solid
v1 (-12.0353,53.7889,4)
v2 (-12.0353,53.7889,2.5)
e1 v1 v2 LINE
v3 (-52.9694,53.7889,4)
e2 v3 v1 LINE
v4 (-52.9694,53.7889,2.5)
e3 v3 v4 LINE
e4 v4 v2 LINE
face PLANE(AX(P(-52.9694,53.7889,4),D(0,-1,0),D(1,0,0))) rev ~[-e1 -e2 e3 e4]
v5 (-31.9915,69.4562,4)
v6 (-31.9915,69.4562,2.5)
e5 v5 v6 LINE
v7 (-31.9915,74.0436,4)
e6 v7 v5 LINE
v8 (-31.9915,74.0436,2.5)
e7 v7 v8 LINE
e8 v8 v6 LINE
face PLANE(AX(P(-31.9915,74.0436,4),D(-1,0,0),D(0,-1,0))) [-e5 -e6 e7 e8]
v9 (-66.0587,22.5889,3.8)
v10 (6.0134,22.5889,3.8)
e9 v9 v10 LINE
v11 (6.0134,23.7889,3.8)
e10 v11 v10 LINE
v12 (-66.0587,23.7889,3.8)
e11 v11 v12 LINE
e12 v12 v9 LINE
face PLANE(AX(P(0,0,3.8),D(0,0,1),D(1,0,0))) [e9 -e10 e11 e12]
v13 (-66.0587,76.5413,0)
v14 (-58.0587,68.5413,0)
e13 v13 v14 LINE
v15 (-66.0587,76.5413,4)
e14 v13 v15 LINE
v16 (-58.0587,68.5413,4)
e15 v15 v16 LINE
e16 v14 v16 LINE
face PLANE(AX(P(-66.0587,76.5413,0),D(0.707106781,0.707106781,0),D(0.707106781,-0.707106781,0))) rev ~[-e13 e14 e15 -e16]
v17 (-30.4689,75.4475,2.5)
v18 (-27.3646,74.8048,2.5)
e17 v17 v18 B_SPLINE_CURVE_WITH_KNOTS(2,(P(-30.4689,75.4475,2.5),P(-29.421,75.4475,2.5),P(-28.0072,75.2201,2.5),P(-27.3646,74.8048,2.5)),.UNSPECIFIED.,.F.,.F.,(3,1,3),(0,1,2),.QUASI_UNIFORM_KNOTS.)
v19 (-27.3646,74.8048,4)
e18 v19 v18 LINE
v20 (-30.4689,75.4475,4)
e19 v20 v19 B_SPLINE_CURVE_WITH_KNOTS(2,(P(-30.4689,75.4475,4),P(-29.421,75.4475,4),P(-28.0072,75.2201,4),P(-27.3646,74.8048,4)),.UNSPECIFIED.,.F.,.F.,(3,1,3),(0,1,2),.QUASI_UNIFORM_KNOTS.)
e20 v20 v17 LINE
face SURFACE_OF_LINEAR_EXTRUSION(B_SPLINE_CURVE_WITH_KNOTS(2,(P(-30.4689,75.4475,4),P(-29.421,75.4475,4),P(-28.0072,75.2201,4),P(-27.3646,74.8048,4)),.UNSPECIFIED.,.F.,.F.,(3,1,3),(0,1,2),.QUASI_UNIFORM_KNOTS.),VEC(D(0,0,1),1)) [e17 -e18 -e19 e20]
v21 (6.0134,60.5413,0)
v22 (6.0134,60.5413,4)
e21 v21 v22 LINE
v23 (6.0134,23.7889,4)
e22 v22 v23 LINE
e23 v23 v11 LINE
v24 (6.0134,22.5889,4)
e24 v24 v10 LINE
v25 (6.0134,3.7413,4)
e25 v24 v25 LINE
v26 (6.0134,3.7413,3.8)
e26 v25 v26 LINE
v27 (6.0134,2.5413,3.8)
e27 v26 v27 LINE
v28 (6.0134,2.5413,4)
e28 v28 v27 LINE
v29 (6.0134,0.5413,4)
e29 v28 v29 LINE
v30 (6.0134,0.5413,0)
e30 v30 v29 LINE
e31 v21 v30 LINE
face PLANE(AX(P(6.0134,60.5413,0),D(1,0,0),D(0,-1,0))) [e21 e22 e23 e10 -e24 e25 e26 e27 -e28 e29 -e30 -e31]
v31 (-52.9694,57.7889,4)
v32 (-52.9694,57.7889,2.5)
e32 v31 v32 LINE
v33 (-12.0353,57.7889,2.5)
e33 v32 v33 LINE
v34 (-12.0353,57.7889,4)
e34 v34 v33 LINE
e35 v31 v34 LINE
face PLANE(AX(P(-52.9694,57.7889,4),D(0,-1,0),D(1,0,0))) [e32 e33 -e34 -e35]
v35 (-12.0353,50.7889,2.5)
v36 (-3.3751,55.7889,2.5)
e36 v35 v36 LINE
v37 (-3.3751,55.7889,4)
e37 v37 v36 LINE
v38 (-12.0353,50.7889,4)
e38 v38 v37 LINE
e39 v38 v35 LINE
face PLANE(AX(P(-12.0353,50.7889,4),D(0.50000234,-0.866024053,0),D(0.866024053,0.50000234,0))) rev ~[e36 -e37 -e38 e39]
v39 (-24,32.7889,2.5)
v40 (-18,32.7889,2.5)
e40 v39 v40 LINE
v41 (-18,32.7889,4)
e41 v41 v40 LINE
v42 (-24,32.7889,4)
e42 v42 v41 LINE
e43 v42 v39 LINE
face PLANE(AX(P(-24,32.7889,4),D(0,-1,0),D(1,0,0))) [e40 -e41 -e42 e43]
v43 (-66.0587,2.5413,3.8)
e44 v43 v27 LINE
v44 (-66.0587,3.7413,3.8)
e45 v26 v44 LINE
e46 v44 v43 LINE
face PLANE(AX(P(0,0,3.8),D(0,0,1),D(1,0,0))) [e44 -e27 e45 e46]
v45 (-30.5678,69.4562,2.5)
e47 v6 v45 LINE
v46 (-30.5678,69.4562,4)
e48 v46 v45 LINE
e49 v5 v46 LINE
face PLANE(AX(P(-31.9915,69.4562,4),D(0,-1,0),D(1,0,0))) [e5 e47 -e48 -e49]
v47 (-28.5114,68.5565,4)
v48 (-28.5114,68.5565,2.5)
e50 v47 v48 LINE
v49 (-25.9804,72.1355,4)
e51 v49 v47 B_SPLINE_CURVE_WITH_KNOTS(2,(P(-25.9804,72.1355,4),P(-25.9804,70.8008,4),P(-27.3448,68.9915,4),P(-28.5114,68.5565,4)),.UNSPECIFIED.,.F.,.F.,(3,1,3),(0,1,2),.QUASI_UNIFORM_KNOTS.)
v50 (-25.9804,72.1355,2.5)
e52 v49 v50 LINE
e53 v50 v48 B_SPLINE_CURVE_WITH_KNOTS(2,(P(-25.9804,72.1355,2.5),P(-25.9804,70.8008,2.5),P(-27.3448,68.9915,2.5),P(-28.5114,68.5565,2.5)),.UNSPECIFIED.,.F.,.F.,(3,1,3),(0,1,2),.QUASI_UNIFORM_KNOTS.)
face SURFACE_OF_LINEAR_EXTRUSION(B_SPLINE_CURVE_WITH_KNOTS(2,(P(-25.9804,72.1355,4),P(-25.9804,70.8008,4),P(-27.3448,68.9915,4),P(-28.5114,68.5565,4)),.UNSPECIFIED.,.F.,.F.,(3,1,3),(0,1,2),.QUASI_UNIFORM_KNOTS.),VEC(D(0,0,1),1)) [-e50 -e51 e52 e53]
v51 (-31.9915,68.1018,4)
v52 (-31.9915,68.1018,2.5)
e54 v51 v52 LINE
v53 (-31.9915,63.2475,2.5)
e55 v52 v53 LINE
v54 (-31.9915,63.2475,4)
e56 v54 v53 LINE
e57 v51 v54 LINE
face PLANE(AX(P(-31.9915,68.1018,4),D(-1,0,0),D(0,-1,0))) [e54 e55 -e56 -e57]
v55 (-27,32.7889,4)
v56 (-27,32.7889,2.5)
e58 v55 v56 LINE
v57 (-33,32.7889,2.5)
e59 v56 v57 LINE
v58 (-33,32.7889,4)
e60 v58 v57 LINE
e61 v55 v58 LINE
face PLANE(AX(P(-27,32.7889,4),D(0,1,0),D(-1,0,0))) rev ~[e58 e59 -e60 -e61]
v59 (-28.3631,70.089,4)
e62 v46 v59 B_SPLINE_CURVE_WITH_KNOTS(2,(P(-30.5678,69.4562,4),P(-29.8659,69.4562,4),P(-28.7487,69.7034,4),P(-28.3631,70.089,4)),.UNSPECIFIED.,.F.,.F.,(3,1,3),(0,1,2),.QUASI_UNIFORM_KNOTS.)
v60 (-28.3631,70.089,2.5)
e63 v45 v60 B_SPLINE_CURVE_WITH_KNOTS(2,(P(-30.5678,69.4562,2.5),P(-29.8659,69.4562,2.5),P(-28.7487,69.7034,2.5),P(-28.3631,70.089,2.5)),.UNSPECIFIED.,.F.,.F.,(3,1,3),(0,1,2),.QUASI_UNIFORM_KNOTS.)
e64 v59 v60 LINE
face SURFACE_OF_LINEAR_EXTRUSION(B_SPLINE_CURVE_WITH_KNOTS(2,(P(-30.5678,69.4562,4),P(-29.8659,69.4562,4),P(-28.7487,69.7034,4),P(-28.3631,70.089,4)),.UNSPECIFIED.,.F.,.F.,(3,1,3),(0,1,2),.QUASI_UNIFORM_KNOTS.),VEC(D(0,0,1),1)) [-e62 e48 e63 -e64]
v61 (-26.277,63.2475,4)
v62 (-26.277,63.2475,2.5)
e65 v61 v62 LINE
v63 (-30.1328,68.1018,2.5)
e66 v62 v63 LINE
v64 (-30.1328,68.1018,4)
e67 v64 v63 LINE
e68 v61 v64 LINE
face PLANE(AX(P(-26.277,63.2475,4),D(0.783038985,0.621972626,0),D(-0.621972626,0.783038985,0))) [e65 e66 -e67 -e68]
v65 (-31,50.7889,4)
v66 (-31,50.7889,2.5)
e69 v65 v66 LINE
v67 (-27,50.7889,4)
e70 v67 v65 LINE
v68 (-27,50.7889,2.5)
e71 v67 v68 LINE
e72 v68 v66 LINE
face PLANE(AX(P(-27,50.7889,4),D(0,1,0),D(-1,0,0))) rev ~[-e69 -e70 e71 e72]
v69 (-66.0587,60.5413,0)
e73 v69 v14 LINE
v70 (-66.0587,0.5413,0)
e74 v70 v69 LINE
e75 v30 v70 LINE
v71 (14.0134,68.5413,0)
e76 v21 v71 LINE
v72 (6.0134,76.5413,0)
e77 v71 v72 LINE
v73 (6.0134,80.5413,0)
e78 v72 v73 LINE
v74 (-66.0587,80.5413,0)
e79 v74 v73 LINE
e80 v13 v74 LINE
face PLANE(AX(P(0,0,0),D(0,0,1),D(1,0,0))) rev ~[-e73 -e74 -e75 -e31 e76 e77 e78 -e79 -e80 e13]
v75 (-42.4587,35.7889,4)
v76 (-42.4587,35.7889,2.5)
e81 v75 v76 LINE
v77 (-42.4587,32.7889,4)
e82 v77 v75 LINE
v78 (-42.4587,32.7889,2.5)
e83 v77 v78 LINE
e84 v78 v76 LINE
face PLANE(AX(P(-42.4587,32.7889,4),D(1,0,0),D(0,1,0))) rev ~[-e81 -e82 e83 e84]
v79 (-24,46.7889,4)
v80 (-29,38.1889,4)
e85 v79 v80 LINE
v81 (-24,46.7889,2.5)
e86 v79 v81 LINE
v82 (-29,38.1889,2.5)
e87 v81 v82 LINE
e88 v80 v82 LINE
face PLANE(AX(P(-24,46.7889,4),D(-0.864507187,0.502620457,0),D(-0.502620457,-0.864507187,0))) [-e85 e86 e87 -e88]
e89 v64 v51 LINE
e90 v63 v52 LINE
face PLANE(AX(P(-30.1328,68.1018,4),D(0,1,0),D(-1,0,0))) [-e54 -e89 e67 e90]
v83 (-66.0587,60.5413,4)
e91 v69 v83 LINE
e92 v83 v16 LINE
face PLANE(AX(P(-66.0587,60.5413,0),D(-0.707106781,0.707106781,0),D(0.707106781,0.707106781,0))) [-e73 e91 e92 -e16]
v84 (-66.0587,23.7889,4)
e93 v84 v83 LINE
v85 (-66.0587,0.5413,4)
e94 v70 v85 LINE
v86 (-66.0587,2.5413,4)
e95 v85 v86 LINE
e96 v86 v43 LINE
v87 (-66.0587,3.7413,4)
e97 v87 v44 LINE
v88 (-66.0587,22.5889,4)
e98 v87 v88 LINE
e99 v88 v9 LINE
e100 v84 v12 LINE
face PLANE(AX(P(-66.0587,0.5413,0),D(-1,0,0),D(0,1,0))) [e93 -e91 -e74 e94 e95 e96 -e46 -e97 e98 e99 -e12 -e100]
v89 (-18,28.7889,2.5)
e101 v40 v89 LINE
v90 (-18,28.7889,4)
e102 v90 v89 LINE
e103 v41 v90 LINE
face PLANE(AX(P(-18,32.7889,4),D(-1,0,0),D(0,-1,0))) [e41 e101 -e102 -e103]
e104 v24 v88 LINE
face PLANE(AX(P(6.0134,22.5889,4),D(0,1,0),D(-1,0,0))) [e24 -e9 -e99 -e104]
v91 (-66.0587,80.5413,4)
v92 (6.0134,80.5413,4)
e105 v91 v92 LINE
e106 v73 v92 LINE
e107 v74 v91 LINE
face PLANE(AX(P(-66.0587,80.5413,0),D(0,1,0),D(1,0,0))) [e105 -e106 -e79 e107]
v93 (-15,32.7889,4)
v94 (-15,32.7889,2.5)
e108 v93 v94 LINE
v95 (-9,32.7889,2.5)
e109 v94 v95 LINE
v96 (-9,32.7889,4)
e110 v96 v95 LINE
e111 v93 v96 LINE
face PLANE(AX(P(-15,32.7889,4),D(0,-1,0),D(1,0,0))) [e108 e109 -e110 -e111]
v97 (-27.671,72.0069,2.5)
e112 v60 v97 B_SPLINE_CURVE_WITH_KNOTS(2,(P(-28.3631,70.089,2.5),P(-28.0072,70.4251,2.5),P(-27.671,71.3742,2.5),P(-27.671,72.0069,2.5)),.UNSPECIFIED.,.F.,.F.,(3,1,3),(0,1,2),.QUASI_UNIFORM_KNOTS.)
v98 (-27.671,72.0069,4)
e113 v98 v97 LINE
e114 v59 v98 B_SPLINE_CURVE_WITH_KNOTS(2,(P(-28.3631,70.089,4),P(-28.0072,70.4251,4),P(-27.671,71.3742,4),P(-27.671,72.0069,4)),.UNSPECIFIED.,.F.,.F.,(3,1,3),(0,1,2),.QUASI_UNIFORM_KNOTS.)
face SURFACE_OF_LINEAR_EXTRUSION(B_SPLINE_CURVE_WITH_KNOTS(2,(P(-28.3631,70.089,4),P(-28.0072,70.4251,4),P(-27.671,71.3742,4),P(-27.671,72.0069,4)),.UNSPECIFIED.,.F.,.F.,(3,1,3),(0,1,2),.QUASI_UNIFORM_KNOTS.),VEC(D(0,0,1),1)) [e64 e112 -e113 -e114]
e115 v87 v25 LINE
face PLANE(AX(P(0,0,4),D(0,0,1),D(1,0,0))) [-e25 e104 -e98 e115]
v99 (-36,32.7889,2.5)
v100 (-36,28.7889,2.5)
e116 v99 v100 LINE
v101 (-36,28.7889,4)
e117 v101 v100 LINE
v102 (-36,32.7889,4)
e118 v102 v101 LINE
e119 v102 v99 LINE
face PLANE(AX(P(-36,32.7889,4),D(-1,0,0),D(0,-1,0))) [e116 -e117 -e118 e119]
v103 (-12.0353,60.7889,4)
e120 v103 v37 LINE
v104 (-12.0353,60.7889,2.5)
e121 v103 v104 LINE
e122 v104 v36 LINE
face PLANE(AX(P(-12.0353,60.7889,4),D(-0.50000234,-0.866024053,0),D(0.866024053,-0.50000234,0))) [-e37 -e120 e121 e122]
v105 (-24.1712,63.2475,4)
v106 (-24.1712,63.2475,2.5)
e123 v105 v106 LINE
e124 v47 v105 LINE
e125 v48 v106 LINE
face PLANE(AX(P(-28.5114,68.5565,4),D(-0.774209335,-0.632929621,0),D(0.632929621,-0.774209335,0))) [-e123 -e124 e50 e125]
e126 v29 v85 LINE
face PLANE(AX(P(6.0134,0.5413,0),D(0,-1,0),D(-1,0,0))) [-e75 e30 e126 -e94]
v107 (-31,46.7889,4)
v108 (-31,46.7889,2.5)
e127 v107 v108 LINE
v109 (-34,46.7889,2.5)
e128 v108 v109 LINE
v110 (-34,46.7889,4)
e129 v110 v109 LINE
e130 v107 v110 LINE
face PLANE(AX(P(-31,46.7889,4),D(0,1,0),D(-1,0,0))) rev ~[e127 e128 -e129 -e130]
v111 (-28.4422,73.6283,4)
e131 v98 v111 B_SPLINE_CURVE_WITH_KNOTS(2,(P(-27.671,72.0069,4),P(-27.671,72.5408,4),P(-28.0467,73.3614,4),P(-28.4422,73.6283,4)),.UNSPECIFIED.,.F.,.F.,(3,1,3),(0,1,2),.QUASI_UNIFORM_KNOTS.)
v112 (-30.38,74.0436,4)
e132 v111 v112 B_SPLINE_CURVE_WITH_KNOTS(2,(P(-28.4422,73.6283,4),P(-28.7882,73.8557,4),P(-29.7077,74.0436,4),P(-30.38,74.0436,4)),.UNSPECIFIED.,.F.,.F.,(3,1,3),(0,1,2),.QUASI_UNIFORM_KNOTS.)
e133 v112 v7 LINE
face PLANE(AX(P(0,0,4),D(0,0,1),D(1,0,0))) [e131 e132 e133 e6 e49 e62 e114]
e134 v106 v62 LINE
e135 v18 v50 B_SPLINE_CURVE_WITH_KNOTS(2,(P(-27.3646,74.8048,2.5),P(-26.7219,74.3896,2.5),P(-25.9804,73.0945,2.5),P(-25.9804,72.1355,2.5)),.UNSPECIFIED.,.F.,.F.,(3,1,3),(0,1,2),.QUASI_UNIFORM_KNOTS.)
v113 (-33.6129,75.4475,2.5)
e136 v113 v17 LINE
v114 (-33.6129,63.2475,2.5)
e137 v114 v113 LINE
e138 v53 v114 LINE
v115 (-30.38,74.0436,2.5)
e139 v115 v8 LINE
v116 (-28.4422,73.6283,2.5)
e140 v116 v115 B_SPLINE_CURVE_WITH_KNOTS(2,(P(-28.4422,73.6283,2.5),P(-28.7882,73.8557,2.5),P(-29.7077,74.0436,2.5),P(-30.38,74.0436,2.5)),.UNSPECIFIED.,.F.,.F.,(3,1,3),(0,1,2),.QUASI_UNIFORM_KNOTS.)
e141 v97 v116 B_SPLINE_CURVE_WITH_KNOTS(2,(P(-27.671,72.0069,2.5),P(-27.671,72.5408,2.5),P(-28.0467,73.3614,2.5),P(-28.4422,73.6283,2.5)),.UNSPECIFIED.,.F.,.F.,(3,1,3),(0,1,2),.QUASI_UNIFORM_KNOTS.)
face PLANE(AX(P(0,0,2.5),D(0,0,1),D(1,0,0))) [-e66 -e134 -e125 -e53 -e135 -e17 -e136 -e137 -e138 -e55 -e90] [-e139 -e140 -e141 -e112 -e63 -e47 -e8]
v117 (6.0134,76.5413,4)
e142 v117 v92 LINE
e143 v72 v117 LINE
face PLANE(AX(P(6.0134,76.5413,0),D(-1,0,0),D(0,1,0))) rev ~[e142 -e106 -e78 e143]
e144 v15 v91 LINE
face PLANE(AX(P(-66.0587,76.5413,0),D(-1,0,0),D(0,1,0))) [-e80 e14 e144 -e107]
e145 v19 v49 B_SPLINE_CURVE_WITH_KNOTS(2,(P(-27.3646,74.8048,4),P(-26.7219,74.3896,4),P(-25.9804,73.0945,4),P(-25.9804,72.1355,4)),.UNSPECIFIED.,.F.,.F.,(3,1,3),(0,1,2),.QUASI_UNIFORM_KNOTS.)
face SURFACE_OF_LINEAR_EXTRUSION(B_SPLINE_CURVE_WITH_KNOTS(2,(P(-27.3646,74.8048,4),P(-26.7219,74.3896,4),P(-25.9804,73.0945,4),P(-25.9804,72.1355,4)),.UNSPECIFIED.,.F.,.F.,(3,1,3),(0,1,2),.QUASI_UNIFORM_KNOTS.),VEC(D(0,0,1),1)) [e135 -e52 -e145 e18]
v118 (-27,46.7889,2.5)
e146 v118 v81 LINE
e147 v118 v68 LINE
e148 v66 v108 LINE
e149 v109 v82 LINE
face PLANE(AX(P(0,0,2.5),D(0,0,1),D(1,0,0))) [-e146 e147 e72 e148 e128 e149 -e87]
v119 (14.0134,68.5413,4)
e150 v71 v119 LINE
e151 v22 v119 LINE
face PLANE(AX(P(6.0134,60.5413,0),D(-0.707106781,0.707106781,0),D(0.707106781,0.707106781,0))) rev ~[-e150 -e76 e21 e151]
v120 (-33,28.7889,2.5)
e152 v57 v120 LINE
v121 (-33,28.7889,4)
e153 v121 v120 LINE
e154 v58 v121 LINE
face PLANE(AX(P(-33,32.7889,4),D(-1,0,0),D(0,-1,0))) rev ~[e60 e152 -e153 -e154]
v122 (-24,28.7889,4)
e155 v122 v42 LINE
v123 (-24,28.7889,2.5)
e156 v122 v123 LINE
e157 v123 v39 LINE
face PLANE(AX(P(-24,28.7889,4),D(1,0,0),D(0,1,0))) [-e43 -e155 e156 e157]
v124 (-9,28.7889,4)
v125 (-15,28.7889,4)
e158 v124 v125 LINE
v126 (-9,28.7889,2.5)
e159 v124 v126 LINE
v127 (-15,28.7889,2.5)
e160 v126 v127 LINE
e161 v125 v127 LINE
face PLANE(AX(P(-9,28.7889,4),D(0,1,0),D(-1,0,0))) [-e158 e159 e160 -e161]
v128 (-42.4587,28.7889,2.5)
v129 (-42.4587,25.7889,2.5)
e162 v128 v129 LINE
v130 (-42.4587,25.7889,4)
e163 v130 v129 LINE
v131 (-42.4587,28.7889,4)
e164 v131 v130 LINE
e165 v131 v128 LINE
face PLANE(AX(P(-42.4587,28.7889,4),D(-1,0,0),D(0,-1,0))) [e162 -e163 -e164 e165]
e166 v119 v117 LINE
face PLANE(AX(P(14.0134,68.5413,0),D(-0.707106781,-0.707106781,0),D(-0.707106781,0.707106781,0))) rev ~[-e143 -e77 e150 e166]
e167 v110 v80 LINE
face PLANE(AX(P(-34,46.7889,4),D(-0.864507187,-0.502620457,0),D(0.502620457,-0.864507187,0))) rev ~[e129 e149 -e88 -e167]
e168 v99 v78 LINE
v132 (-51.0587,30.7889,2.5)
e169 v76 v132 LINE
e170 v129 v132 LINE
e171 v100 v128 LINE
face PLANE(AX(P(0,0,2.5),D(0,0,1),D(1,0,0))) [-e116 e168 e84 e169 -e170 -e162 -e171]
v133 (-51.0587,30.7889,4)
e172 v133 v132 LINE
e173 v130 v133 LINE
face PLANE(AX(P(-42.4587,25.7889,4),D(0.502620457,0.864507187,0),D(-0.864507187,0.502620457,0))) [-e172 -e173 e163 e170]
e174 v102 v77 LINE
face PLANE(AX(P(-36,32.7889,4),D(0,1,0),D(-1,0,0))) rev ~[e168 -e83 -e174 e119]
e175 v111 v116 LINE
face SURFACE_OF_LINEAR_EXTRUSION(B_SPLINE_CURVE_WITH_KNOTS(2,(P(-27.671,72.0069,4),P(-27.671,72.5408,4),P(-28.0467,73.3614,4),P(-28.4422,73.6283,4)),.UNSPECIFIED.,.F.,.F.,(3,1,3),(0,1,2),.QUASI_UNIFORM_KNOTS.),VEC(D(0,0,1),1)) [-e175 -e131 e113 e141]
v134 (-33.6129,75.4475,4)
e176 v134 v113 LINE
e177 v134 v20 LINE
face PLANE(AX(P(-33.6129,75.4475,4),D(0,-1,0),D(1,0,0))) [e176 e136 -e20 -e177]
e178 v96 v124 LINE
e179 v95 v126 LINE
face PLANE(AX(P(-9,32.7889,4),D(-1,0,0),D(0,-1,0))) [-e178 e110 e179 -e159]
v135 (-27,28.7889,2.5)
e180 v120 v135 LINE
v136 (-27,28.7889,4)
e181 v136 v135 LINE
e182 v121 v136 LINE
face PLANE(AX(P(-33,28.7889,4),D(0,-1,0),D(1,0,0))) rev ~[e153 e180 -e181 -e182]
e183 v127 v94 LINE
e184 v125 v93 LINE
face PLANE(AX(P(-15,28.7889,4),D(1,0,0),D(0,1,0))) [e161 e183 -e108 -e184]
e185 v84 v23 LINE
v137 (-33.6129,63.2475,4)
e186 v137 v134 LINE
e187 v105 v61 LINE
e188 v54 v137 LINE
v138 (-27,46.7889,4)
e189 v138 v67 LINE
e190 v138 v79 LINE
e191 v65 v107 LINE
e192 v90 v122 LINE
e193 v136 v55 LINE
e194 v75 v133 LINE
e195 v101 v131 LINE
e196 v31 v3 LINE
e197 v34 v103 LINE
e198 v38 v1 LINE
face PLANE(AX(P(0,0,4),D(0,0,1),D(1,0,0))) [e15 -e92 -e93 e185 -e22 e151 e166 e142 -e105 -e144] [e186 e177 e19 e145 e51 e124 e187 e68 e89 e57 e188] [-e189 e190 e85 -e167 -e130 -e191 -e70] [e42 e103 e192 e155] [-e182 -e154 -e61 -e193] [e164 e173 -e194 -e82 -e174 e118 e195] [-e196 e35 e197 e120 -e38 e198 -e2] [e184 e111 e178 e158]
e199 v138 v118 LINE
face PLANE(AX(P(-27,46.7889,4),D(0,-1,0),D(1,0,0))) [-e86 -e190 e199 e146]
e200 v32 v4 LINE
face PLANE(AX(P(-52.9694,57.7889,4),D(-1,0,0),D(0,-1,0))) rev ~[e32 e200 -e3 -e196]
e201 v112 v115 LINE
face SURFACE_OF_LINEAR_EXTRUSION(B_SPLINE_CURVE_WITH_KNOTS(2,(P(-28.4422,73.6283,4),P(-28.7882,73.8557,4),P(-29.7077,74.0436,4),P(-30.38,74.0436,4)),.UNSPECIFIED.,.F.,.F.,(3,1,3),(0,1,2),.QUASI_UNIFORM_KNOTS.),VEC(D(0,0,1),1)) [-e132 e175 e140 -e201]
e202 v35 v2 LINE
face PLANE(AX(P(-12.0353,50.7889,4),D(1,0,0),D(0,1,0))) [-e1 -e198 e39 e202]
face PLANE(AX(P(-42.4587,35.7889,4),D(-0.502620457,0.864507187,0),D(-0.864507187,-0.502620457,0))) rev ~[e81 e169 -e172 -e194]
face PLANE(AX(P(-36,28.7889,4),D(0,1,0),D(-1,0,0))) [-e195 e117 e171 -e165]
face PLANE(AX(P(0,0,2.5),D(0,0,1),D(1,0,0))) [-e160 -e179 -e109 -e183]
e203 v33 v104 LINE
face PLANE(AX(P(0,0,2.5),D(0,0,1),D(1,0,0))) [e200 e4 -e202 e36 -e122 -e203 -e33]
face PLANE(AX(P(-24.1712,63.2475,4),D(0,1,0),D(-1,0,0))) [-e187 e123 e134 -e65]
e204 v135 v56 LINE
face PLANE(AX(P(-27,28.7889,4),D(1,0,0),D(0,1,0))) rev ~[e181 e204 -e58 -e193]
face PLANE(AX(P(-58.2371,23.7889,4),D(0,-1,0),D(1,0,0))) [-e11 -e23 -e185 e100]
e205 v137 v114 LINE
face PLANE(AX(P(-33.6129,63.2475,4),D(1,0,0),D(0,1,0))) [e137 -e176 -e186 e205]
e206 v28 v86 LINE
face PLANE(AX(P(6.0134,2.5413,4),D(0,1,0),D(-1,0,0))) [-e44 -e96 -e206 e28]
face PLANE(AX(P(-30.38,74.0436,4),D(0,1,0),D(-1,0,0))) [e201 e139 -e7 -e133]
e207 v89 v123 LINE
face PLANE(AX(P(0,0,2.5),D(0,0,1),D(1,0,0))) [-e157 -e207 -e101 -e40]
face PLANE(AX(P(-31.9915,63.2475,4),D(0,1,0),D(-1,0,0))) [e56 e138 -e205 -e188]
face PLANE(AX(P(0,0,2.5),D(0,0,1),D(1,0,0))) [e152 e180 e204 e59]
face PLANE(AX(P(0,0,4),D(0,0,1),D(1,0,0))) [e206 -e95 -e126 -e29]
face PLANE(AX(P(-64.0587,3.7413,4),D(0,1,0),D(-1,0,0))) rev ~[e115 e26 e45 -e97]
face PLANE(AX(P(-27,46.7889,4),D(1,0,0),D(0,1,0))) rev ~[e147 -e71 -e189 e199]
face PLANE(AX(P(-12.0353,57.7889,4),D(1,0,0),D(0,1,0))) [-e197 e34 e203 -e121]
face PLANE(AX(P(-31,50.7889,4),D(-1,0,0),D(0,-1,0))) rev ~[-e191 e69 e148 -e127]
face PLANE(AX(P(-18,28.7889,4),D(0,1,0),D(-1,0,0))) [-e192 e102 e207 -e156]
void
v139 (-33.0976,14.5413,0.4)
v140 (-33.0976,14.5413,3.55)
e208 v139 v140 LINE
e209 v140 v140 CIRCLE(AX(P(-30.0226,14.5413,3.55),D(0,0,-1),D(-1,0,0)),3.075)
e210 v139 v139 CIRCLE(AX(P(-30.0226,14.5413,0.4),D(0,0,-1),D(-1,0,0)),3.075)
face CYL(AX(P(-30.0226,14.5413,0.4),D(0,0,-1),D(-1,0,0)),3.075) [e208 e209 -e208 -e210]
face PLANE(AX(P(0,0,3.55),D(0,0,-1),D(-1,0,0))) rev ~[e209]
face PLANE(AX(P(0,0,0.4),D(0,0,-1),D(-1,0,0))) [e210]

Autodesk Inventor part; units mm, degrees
ref_plane "YZ Plane" through (0, 0, 0) normal (1, 0, 0) x (0, 1, 0)
ref_plane "XZ Plane" through (0, 0, 0) normal (0, 1, 0) x (-1, 0, 0)
sketch "Sketch1" plane through (0, 0, 0) normal (0, 0, 1) x (1, 0, 0)
  line L0 (6.0134, 0.5413) -> (-66.0587, 0.5413)
  circle A0 centre (-66.0587, 68.5413) radius 8 construction
  line L1 (-66.0587, 60.5413) -> (6.0134, 60.5413) construction
  line L2 (-66.0587, 76.5413) -> (-58.0587, 68.5413)
  line L3 (-66.0587, 60.5413) -> (-58.0587, 68.5413)
  line L4 (6.0134, 60.5413) -> (6.0134, 0.5413)
  line L5 (-66.0587, 0.5413) -> (-66.0587, 60.5413)
  line L6 (-66.0587, 76.5413) -> (-66.0587, 80.5413)
  line L7 (6.0134, 0.5413) -> (-120, 0.5413) construction
  line L8 (-60, 0) -> (-60, 75) construction
  line L9 (-60, 75) -> (0, 75) construction
  line L10 (6.0134, 150.5413) -> (6.0134, 0.5413) construction
  line L11 (6.0134, 60.5413) -> (6.0134, 80.5413)
  line L12 (-66.0587, 80.5413) -> (6.0134, 80.5413)
  line L13 (-66.0587, 76.5413) -> (12.8048, 76.5413) construction
  line L14 (-58.0587, 68.5413) -> (17.3629, 68.5413) construction
  line L15 (-66.0587, 60.5413) -> (24.3855, 60.5413) construction
  circle A1 centre (6.0134, 68.5413) radius 8 construction
  line L16 (6.0134, 60.5413) -> (14.0134, 68.5413)
  line L17 (14.0134, 68.5413) -> (6.0134, 76.5413)
  point P0 (0, 0)
  dimension "d1" = 80
  dimension "d5" = 16
  dimension "d6" = 60
extrude "Extrusion1" add sketch "Sketch1" along normal blind 4
sketch "Sketch3" plane through (0, 0, 4) normal (0, 0, 1) x (1, 0, 0)
  line L0 (-66.0587, 80.5413) -> (13.9413, 80.5413) construction
  line L1 (-34.8487, 75.4475) -> (-28.5043, 75.4475) construction
  line L2 (-28.5043, 75.4475) -> (-28.5043, 84.7097) construction
  line L3 (-28.5043, 84.7097) -> (-34.8487, 84.7097) construction
  line L4 (-34.8487, 84.7097) -> (-34.8487, 75.4475) construction
  line L5 (-52.9694, 57.7889) -> (-12.0353, 57.7889)
  line L6 (-12.0353, 57.7889) -> (-12.0353, 60.7889)
  line L7 (-12.0353, 60.7889) -> (-3.3751, 55.7889)
  line L8 (-12.0353, 50.7889) -> (-3.3751, 55.7889)
  line L9 (-12.0353, 50.7889) -> (-12.0353, 53.7889)
  line L10 (-52.9694, 53.7889) -> (-12.0353, 53.7889)
  line L11 (-52.9694, 57.7889) -> (-52.9694, 53.7889)
  line L12 (-27, 50.7889) -> (-31, 50.7889)
  line L13 (-31, 50.7889) -> (-31, 46.7889)
  line L14 (-27, 46.7889) -> (-27, 50.7889)
  line L15 (-27, 50.7889) -> (-27, 52.7889) construction
  line L16 (-27, 35.7889) -> (-27, 32.7889) construction
  line L17 (-27, 32.7889) -> (-33, 32.7889)
  line L18 (-33, 32.7889) -> (-33, 28.7889)
  line L19 (-33, 28.7889) -> (-27, 28.7889)
  line L20 (-27, 28.7889) -> (-27, 32.7889)
  line L21 (-33, 32.7889) -> (-36, 32.7889) construction
  line L22 (-36, 32.7889) -> (-36, 28.7889)
  line L23 (-36, 32.7889) -> (-42.4587, 32.7889)
  line L24 (-42.4587, 32.7889) -> (-42.4587, 35.7889)
  line L25 (-42.4587, 35.7889) -> (-51.0587, 30.7889)
  line L26 (-36, 28.7889) -> (-42.4587, 28.7889)
  line L27 (-42.4587, 28.7889) -> (-42.4587, 25.7889)
  line L28 (-42.4587, 25.7889) -> (-51.0587, 30.7889)
  line L29 (6.0134, 0.5413) -> (-66.0587, 0.5413) construction
  line L30 (-66.0587, 80.5413) -> (6.0134, 80.5413) construction
  line L31 (-30.0226, 80.5413) -> (-30.0226, 0.5413) construction
  line L32 (-24, 32.7889) -> (-18, 32.7889)
  line L33 (-18, 32.7889) -> (-18, 28.7889)
  line L34 (-18, 28.7889) -> (-24, 28.7889)
  line L35 (-24, 28.7889) -> (-24, 32.7889)
  line L36 (-15, 32.7889) -> (-9, 32.7889)
  line L37 (-9, 32.7889) -> (-9, 28.7889)
  line L38 (-9, 28.7889) -> (-15, 28.7889)
  line L39 (-15, 28.7889) -> (-15, 32.7889)
  line L40 (-27, 46.7889) -> (-24, 46.7889)
  line L41 (-31, 46.7889) -> (-34, 46.7889)
  line L42 (-66.0587, 0.5413) -> (-66.0587, 60.5413) construction
  line L43 (6.0134, 60.5413) -> (6.0134, 0.5413) construction
  line L44 (-29, 50.7889) -> (-29, 38.1889) construction
  line L45 (-34, 46.7889) -> (-29, 38.1889)
  line L46 (-24, 46.7889) -> (-29, 38.1889)
  line L47 (-24.1712, 63.2475) -> (-26.277, 63.2475)
  line L48 (-26.277, 63.2475) -> (-30.1328, 68.1018)
  line L49 (-30.1328, 68.1018) -> (-31.9915, 68.1018)
  line L50 (-31.9915, 68.1018) -> (-31.9915, 63.2475)
  line L51 (-31.9915, 63.2475) -> (-33.6129, 63.2475)
  line L52 (-33.6129, 63.2475) -> (-33.6129, 75.4475)
  line L53 (-33.6129, 75.4475) -> (-30.4689, 75.4475)
  spline S0 degree 2 poles (-30.4689, 75.4475) (-29.421, 75.4475) (-28.0072, 75.2201) (-27.3646, 74.8048) knots 0 0 0 1 2 2 2
  spline S1 degree 2 poles (-27.3646, 74.8048) (-26.7219, 74.3896) (-25.9804, 73.0945) (-25.9804, 72.1355) knots 0 0 0 1 2 2 2
  spline S2 degree 2 poles (-25.9804, 72.1355) (-25.9804, 70.8008) (-27.3448, 68.9915) (-28.5114, 68.5565) knots 0 0 0 1 2 2 2
  line L54 (-28.5114, 68.5565) -> (-24.1712, 63.2475)
  spline S3 degree 2 poles (-27.671, 72.0069) (-27.671, 72.5408) (-28.0467, 73.3614) (-28.4422, 73.6283) knots 0 0 0 1 2 2 2
  spline S4 degree 2 poles (-28.4422, 73.6283) (-28.7882, 73.8557) (-29.7077, 74.0436) (-30.38, 74.0436) knots 0 0 0 1 2 2 2
  line L55 (-30.38, 74.0436) -> (-31.9915, 74.0436)
  line L56 (-31.9915, 74.0436) -> (-31.9915, 69.4562)
  line L57 (-31.9915, 69.4562) -> (-30.5678, 69.4562)
  spline S5 degree 2 poles (-30.5678, 69.4562) (-29.8659, 69.4562) (-28.7487, 69.7034) (-28.3631, 70.089) knots 0 0 0 1 2 2 2
  spline S6 degree 2 poles (-28.3631, 70.089) (-28.0072, 70.4251) (-27.671, 71.3742) (-27.671, 72.0069) knots 0 0 0 1 2 2 2
  point P0 (-26.0587, 80.5413)
  point P1 (-12.0353, 60.7889)
  point P2 (-42.4587, 34.2889)
  point P3 (6.0134, 30.5413)
  point P4 (-9, 30.7889)
  point P5 (-25.5, 46.7889)
  dimension "d65" = 4
  dimension "d66" = 3
  dimension "d67" = 10
  dimension "d68" = 3
  dimension "d88" = 4
  dimension "d92" = 6
  dimension "d93" = 4
  dimension "d94" = 3
  dimension "d96" = 3
  dimension "d97" = 3
  dimension "d121" = 6
  dimension "d122" = 4
  dimension "d123" = 6
  dimension "d124" = 3
  dimension "d125" = 3
  dimension "d128" = 3
  dimension "d130" = 4
  dimension "d132" = 3
  dimension "d133" = 3
  dimension "d134" = 8.6
  dimension "d135" = 15
  dimension "d136" = 15.0134
  dimension "d137" = 12.6
  dimension "d138" = 4
extrude "Extrusion3" cut sketch "Sketch3" against normal blind 1.5
ref_plane "Work Plane2" through (0, 0, 0.4) normal (0, 0, -1) x (-1, 0, 0)
sketch "Sketch5" plane through (0, 0, 0.4) normal (0, 0, -1) x (-1, 0, 0)
  line L0 (-13.9413, 80.5413) -> (66.0587, 80.5413) construction
  line L1 (-6.0134, 0.5413) -> (-6.0134, 76.5413) construction
  line L2 (66.0587, 0.5413) -> (-6.0134, 0.5413) construction
  line L3 (66.0587, 60.5413) -> (66.0587, 0.5413) construction
  line L4 (66.0587, 80.5413) -> (66.0587, 76.5413) construction
  line L5 (-6.0134, 0.5413) -> (-6.0134, 60.5413) construction
  line L6 (66.0587, 0.5413) -> (-6.0134, 0.5413) construction
  line L7 (66.0587, 60.5413) -> (66.0587, 0.5413) construction
  line L8 (58.0587, 68.5413) -> (66.0587, 60.5413) construction
  line L9 (66.0587, 76.5413) -> (58.0587, 68.5413) construction
  circle A0 centre (30.0226, 14.5413) radius 3.075
  line L10 (31, 46.7889) -> (31, 50.7889) construction
  line L11 (31, 50.7889) -> (27, 50.7889) construction
  line L12 (27, 50.7889) -> (27, 46.7889) construction
  line L13 (3.3751, 55.7889) -> (12.0353, 50.7889) construction
  line L14 (12.0353, 50.7889) -> (12.0353, 53.7889) construction
  line L15 (12.0353, 53.7889) -> (52.9694, 53.7889) construction
  line L16 (52.9694, 53.7889) -> (52.9694, 57.7889) construction
  line L17 (52.9694, 57.7889) -> (12.0353, 57.7889) construction
  line L18 (12.0353, 57.7889) -> (12.0353, 60.7889) construction
  line L19 (12.0353, 60.7889) -> (3.3751, 55.7889) construction
  line L20 (42.4587, 25.7889) -> (51.0587, 30.7889) construction
  line L21 (51.0587, 30.7889) -> (42.4587, 35.7889) construction
  line L22 (42.4587, 35.7889) -> (42.4587, 32.7889) construction
  line L23 (42.4587, 32.7889) -> (36, 32.7889) construction
  line L24 (36, 32.7889) -> (36, 28.7889) construction
  line L25 (36, 28.7889) -> (42.4587, 28.7889) construction
  line L26 (42.4587, 28.7889) -> (42.4587, 25.7889) construction
  line L27 (27, 28.7889) -> (33, 28.7889) construction
  line L28 (33, 28.7889) -> (33, 32.7889) construction
  line L29 (33, 32.7889) -> (27, 32.7889) construction
  line L30 (27, 32.7889) -> (27, 28.7889) construction
  line L31 (66.0587, 76.5413) -> (66.0587, 80.5413) construction
  line L32 (58.0587, 68.5413) -> (66.0587, 76.5413) construction
  line L33 (66.0587, 60.5413) -> (58.0587, 68.5413) construction
  line L34 (66.0587, 0.5413) -> (66.0587, 60.5413) construction
  line L35 (-6.0134, 0.5413) -> (66.0587, 0.5413) construction
  line L36 (-6.0134, 60.5413) -> (-6.0134, 0.5413) construction
  line L37 (-6.0134, 80.5413) -> (66.0587, 80.5413) projected
  line L38 (66.0587, 80.5413) -> (-6.0134, 80.5413) projected
  line L39 (-6.0134, 76.5413) -> (-6.0134, 80.5413) projected
  line L40 (-14.0134, 68.5413) -> (-6.0134, 76.5413) projected
  line L41 (-6.0134, 60.5413) -> (-14.0134, 68.5413) projected
  line L42 (-14.0134, 68.5413) -> (-6.0134, 60.5413) projected
  line L43 (-6.0134, 76.5413) -> (-14.0134, 68.5413) projected
  line L44 (-6.0134, 80.5413) -> (-6.0134, 76.5413) projected
  line L45 (27, 46.7889) -> (24, 46.7889) projected
  line L46 (24, 46.7889) -> (29, 38.1889) projected
  line L47 (29, 38.1889) -> (34, 46.7889) projected
  line L48 (34, 46.7889) -> (31, 46.7889) projected
  dimension "d99" = 80
  dimension "d100" = 72.0721
  dimension "d101" = 6.15
  dimension "d102" = 14
  dimension "d103" = 36.036
extrude "Extrusion4" cut sketch "Sketch5" against normal blind 3.15
sketch "Sketch7" plane through (0, 0, 4) normal (0, 0, 1) x (1, 0, 0)
  line L0 (-66.0587, 0.5413) -> (-66.0587, 60.5413) construction
  line L1 (6.0134, 0.5413) -> (-66.0587, 0.5413) construction
  line L2 (6.0134, 80.5413) -> (6.0134, 0.5413) construction
  line L3 (-58.2371, 23.7889) -> (9.8349, 23.7889)
  line L4 (6.0134, 2.5413) -> (-64.0587, 2.5413)
  line L5 (7.8349, 22.5889) -> (-56.2371, 22.5889)
  line L6 (-62.0587, 3.7413) -> (2.0134, 3.7413)
  line L7 (-56.2371, 22.5889) -> (-58.2371, 22.5889)
  line L8 (7.8349, 22.5889) -> (9.8349, 22.5889)
  line L9 (2.0134, 3.7413) -> (4.0134, 3.7413)
  line L10 (-62.0587, 3.7413) -> (-64.0587, 3.7413)
  line L11 (-58.2371, 23.7889) -> (-66.0587, 23.7889)
  line L12 (-58.2371, 22.5889) -> (-66.0587, 22.5889)
  line L13 (-66.0587, 23.7889) -> (-66.0587, 22.5889)
  line L14 (-64.0587, 3.7413) -> (-66.0587, 3.7413)
  line L15 (-64.0587, 2.5413) -> (-66.0587, 2.5413)
  line L16 (-66.0587, 3.7413) -> (-66.0587, 2.5413)
  line L17 (9.8349, 23.7889) -> (6.0134, 23.7889)
  line L18 (9.8349, 22.5889) -> (6.0134, 22.5889)
  line L19 (6.0134, 23.7889) -> (6.0134, 22.5889)
  line L20 (4.0134, 3.7413) -> (6.0134, 3.7413)
  line L21 (6.0134, 3.7413) -> (6.0134, 2.5413)
  point P0 (-42.4587, 25.7889)
  point P1 (6.0134, 60.5413)
  point P2 (0, 0)
  dimension "d115" = 2
  dimension "d116" = 2
  dimension "d117" = 1.2
  dimension "d120" = 1.2
extrude "Extrusion5" cut sketch "Sketch7" against normal blind 0.2
sketch "Sketch8" plane through (-66.0587, 0.5413, 0) normal (0, -1, 0) x (1, 0, 0)
  line L0 (72.0721, 4) -> (0, 4) construction
  line L1 (0, 0) -> (0, 4) construction
  line L2 (0, 0) -> (72.0721, 0) construction
  line L3 (72.0721, 0) -> (72.0721, 4) construction
  line L4 (72.0721, 4) -> (0, 4) construction
  line L5 (0, 0) -> (0, 4) construction
  line L6 (0, 0) -> (72.0721, 0) construction
  line L7 (72.0721, 0) -> (72.0721, 4) construction
  point P0 (66.0587, 0)
properties part number "MS_R[203] text 80x60"
